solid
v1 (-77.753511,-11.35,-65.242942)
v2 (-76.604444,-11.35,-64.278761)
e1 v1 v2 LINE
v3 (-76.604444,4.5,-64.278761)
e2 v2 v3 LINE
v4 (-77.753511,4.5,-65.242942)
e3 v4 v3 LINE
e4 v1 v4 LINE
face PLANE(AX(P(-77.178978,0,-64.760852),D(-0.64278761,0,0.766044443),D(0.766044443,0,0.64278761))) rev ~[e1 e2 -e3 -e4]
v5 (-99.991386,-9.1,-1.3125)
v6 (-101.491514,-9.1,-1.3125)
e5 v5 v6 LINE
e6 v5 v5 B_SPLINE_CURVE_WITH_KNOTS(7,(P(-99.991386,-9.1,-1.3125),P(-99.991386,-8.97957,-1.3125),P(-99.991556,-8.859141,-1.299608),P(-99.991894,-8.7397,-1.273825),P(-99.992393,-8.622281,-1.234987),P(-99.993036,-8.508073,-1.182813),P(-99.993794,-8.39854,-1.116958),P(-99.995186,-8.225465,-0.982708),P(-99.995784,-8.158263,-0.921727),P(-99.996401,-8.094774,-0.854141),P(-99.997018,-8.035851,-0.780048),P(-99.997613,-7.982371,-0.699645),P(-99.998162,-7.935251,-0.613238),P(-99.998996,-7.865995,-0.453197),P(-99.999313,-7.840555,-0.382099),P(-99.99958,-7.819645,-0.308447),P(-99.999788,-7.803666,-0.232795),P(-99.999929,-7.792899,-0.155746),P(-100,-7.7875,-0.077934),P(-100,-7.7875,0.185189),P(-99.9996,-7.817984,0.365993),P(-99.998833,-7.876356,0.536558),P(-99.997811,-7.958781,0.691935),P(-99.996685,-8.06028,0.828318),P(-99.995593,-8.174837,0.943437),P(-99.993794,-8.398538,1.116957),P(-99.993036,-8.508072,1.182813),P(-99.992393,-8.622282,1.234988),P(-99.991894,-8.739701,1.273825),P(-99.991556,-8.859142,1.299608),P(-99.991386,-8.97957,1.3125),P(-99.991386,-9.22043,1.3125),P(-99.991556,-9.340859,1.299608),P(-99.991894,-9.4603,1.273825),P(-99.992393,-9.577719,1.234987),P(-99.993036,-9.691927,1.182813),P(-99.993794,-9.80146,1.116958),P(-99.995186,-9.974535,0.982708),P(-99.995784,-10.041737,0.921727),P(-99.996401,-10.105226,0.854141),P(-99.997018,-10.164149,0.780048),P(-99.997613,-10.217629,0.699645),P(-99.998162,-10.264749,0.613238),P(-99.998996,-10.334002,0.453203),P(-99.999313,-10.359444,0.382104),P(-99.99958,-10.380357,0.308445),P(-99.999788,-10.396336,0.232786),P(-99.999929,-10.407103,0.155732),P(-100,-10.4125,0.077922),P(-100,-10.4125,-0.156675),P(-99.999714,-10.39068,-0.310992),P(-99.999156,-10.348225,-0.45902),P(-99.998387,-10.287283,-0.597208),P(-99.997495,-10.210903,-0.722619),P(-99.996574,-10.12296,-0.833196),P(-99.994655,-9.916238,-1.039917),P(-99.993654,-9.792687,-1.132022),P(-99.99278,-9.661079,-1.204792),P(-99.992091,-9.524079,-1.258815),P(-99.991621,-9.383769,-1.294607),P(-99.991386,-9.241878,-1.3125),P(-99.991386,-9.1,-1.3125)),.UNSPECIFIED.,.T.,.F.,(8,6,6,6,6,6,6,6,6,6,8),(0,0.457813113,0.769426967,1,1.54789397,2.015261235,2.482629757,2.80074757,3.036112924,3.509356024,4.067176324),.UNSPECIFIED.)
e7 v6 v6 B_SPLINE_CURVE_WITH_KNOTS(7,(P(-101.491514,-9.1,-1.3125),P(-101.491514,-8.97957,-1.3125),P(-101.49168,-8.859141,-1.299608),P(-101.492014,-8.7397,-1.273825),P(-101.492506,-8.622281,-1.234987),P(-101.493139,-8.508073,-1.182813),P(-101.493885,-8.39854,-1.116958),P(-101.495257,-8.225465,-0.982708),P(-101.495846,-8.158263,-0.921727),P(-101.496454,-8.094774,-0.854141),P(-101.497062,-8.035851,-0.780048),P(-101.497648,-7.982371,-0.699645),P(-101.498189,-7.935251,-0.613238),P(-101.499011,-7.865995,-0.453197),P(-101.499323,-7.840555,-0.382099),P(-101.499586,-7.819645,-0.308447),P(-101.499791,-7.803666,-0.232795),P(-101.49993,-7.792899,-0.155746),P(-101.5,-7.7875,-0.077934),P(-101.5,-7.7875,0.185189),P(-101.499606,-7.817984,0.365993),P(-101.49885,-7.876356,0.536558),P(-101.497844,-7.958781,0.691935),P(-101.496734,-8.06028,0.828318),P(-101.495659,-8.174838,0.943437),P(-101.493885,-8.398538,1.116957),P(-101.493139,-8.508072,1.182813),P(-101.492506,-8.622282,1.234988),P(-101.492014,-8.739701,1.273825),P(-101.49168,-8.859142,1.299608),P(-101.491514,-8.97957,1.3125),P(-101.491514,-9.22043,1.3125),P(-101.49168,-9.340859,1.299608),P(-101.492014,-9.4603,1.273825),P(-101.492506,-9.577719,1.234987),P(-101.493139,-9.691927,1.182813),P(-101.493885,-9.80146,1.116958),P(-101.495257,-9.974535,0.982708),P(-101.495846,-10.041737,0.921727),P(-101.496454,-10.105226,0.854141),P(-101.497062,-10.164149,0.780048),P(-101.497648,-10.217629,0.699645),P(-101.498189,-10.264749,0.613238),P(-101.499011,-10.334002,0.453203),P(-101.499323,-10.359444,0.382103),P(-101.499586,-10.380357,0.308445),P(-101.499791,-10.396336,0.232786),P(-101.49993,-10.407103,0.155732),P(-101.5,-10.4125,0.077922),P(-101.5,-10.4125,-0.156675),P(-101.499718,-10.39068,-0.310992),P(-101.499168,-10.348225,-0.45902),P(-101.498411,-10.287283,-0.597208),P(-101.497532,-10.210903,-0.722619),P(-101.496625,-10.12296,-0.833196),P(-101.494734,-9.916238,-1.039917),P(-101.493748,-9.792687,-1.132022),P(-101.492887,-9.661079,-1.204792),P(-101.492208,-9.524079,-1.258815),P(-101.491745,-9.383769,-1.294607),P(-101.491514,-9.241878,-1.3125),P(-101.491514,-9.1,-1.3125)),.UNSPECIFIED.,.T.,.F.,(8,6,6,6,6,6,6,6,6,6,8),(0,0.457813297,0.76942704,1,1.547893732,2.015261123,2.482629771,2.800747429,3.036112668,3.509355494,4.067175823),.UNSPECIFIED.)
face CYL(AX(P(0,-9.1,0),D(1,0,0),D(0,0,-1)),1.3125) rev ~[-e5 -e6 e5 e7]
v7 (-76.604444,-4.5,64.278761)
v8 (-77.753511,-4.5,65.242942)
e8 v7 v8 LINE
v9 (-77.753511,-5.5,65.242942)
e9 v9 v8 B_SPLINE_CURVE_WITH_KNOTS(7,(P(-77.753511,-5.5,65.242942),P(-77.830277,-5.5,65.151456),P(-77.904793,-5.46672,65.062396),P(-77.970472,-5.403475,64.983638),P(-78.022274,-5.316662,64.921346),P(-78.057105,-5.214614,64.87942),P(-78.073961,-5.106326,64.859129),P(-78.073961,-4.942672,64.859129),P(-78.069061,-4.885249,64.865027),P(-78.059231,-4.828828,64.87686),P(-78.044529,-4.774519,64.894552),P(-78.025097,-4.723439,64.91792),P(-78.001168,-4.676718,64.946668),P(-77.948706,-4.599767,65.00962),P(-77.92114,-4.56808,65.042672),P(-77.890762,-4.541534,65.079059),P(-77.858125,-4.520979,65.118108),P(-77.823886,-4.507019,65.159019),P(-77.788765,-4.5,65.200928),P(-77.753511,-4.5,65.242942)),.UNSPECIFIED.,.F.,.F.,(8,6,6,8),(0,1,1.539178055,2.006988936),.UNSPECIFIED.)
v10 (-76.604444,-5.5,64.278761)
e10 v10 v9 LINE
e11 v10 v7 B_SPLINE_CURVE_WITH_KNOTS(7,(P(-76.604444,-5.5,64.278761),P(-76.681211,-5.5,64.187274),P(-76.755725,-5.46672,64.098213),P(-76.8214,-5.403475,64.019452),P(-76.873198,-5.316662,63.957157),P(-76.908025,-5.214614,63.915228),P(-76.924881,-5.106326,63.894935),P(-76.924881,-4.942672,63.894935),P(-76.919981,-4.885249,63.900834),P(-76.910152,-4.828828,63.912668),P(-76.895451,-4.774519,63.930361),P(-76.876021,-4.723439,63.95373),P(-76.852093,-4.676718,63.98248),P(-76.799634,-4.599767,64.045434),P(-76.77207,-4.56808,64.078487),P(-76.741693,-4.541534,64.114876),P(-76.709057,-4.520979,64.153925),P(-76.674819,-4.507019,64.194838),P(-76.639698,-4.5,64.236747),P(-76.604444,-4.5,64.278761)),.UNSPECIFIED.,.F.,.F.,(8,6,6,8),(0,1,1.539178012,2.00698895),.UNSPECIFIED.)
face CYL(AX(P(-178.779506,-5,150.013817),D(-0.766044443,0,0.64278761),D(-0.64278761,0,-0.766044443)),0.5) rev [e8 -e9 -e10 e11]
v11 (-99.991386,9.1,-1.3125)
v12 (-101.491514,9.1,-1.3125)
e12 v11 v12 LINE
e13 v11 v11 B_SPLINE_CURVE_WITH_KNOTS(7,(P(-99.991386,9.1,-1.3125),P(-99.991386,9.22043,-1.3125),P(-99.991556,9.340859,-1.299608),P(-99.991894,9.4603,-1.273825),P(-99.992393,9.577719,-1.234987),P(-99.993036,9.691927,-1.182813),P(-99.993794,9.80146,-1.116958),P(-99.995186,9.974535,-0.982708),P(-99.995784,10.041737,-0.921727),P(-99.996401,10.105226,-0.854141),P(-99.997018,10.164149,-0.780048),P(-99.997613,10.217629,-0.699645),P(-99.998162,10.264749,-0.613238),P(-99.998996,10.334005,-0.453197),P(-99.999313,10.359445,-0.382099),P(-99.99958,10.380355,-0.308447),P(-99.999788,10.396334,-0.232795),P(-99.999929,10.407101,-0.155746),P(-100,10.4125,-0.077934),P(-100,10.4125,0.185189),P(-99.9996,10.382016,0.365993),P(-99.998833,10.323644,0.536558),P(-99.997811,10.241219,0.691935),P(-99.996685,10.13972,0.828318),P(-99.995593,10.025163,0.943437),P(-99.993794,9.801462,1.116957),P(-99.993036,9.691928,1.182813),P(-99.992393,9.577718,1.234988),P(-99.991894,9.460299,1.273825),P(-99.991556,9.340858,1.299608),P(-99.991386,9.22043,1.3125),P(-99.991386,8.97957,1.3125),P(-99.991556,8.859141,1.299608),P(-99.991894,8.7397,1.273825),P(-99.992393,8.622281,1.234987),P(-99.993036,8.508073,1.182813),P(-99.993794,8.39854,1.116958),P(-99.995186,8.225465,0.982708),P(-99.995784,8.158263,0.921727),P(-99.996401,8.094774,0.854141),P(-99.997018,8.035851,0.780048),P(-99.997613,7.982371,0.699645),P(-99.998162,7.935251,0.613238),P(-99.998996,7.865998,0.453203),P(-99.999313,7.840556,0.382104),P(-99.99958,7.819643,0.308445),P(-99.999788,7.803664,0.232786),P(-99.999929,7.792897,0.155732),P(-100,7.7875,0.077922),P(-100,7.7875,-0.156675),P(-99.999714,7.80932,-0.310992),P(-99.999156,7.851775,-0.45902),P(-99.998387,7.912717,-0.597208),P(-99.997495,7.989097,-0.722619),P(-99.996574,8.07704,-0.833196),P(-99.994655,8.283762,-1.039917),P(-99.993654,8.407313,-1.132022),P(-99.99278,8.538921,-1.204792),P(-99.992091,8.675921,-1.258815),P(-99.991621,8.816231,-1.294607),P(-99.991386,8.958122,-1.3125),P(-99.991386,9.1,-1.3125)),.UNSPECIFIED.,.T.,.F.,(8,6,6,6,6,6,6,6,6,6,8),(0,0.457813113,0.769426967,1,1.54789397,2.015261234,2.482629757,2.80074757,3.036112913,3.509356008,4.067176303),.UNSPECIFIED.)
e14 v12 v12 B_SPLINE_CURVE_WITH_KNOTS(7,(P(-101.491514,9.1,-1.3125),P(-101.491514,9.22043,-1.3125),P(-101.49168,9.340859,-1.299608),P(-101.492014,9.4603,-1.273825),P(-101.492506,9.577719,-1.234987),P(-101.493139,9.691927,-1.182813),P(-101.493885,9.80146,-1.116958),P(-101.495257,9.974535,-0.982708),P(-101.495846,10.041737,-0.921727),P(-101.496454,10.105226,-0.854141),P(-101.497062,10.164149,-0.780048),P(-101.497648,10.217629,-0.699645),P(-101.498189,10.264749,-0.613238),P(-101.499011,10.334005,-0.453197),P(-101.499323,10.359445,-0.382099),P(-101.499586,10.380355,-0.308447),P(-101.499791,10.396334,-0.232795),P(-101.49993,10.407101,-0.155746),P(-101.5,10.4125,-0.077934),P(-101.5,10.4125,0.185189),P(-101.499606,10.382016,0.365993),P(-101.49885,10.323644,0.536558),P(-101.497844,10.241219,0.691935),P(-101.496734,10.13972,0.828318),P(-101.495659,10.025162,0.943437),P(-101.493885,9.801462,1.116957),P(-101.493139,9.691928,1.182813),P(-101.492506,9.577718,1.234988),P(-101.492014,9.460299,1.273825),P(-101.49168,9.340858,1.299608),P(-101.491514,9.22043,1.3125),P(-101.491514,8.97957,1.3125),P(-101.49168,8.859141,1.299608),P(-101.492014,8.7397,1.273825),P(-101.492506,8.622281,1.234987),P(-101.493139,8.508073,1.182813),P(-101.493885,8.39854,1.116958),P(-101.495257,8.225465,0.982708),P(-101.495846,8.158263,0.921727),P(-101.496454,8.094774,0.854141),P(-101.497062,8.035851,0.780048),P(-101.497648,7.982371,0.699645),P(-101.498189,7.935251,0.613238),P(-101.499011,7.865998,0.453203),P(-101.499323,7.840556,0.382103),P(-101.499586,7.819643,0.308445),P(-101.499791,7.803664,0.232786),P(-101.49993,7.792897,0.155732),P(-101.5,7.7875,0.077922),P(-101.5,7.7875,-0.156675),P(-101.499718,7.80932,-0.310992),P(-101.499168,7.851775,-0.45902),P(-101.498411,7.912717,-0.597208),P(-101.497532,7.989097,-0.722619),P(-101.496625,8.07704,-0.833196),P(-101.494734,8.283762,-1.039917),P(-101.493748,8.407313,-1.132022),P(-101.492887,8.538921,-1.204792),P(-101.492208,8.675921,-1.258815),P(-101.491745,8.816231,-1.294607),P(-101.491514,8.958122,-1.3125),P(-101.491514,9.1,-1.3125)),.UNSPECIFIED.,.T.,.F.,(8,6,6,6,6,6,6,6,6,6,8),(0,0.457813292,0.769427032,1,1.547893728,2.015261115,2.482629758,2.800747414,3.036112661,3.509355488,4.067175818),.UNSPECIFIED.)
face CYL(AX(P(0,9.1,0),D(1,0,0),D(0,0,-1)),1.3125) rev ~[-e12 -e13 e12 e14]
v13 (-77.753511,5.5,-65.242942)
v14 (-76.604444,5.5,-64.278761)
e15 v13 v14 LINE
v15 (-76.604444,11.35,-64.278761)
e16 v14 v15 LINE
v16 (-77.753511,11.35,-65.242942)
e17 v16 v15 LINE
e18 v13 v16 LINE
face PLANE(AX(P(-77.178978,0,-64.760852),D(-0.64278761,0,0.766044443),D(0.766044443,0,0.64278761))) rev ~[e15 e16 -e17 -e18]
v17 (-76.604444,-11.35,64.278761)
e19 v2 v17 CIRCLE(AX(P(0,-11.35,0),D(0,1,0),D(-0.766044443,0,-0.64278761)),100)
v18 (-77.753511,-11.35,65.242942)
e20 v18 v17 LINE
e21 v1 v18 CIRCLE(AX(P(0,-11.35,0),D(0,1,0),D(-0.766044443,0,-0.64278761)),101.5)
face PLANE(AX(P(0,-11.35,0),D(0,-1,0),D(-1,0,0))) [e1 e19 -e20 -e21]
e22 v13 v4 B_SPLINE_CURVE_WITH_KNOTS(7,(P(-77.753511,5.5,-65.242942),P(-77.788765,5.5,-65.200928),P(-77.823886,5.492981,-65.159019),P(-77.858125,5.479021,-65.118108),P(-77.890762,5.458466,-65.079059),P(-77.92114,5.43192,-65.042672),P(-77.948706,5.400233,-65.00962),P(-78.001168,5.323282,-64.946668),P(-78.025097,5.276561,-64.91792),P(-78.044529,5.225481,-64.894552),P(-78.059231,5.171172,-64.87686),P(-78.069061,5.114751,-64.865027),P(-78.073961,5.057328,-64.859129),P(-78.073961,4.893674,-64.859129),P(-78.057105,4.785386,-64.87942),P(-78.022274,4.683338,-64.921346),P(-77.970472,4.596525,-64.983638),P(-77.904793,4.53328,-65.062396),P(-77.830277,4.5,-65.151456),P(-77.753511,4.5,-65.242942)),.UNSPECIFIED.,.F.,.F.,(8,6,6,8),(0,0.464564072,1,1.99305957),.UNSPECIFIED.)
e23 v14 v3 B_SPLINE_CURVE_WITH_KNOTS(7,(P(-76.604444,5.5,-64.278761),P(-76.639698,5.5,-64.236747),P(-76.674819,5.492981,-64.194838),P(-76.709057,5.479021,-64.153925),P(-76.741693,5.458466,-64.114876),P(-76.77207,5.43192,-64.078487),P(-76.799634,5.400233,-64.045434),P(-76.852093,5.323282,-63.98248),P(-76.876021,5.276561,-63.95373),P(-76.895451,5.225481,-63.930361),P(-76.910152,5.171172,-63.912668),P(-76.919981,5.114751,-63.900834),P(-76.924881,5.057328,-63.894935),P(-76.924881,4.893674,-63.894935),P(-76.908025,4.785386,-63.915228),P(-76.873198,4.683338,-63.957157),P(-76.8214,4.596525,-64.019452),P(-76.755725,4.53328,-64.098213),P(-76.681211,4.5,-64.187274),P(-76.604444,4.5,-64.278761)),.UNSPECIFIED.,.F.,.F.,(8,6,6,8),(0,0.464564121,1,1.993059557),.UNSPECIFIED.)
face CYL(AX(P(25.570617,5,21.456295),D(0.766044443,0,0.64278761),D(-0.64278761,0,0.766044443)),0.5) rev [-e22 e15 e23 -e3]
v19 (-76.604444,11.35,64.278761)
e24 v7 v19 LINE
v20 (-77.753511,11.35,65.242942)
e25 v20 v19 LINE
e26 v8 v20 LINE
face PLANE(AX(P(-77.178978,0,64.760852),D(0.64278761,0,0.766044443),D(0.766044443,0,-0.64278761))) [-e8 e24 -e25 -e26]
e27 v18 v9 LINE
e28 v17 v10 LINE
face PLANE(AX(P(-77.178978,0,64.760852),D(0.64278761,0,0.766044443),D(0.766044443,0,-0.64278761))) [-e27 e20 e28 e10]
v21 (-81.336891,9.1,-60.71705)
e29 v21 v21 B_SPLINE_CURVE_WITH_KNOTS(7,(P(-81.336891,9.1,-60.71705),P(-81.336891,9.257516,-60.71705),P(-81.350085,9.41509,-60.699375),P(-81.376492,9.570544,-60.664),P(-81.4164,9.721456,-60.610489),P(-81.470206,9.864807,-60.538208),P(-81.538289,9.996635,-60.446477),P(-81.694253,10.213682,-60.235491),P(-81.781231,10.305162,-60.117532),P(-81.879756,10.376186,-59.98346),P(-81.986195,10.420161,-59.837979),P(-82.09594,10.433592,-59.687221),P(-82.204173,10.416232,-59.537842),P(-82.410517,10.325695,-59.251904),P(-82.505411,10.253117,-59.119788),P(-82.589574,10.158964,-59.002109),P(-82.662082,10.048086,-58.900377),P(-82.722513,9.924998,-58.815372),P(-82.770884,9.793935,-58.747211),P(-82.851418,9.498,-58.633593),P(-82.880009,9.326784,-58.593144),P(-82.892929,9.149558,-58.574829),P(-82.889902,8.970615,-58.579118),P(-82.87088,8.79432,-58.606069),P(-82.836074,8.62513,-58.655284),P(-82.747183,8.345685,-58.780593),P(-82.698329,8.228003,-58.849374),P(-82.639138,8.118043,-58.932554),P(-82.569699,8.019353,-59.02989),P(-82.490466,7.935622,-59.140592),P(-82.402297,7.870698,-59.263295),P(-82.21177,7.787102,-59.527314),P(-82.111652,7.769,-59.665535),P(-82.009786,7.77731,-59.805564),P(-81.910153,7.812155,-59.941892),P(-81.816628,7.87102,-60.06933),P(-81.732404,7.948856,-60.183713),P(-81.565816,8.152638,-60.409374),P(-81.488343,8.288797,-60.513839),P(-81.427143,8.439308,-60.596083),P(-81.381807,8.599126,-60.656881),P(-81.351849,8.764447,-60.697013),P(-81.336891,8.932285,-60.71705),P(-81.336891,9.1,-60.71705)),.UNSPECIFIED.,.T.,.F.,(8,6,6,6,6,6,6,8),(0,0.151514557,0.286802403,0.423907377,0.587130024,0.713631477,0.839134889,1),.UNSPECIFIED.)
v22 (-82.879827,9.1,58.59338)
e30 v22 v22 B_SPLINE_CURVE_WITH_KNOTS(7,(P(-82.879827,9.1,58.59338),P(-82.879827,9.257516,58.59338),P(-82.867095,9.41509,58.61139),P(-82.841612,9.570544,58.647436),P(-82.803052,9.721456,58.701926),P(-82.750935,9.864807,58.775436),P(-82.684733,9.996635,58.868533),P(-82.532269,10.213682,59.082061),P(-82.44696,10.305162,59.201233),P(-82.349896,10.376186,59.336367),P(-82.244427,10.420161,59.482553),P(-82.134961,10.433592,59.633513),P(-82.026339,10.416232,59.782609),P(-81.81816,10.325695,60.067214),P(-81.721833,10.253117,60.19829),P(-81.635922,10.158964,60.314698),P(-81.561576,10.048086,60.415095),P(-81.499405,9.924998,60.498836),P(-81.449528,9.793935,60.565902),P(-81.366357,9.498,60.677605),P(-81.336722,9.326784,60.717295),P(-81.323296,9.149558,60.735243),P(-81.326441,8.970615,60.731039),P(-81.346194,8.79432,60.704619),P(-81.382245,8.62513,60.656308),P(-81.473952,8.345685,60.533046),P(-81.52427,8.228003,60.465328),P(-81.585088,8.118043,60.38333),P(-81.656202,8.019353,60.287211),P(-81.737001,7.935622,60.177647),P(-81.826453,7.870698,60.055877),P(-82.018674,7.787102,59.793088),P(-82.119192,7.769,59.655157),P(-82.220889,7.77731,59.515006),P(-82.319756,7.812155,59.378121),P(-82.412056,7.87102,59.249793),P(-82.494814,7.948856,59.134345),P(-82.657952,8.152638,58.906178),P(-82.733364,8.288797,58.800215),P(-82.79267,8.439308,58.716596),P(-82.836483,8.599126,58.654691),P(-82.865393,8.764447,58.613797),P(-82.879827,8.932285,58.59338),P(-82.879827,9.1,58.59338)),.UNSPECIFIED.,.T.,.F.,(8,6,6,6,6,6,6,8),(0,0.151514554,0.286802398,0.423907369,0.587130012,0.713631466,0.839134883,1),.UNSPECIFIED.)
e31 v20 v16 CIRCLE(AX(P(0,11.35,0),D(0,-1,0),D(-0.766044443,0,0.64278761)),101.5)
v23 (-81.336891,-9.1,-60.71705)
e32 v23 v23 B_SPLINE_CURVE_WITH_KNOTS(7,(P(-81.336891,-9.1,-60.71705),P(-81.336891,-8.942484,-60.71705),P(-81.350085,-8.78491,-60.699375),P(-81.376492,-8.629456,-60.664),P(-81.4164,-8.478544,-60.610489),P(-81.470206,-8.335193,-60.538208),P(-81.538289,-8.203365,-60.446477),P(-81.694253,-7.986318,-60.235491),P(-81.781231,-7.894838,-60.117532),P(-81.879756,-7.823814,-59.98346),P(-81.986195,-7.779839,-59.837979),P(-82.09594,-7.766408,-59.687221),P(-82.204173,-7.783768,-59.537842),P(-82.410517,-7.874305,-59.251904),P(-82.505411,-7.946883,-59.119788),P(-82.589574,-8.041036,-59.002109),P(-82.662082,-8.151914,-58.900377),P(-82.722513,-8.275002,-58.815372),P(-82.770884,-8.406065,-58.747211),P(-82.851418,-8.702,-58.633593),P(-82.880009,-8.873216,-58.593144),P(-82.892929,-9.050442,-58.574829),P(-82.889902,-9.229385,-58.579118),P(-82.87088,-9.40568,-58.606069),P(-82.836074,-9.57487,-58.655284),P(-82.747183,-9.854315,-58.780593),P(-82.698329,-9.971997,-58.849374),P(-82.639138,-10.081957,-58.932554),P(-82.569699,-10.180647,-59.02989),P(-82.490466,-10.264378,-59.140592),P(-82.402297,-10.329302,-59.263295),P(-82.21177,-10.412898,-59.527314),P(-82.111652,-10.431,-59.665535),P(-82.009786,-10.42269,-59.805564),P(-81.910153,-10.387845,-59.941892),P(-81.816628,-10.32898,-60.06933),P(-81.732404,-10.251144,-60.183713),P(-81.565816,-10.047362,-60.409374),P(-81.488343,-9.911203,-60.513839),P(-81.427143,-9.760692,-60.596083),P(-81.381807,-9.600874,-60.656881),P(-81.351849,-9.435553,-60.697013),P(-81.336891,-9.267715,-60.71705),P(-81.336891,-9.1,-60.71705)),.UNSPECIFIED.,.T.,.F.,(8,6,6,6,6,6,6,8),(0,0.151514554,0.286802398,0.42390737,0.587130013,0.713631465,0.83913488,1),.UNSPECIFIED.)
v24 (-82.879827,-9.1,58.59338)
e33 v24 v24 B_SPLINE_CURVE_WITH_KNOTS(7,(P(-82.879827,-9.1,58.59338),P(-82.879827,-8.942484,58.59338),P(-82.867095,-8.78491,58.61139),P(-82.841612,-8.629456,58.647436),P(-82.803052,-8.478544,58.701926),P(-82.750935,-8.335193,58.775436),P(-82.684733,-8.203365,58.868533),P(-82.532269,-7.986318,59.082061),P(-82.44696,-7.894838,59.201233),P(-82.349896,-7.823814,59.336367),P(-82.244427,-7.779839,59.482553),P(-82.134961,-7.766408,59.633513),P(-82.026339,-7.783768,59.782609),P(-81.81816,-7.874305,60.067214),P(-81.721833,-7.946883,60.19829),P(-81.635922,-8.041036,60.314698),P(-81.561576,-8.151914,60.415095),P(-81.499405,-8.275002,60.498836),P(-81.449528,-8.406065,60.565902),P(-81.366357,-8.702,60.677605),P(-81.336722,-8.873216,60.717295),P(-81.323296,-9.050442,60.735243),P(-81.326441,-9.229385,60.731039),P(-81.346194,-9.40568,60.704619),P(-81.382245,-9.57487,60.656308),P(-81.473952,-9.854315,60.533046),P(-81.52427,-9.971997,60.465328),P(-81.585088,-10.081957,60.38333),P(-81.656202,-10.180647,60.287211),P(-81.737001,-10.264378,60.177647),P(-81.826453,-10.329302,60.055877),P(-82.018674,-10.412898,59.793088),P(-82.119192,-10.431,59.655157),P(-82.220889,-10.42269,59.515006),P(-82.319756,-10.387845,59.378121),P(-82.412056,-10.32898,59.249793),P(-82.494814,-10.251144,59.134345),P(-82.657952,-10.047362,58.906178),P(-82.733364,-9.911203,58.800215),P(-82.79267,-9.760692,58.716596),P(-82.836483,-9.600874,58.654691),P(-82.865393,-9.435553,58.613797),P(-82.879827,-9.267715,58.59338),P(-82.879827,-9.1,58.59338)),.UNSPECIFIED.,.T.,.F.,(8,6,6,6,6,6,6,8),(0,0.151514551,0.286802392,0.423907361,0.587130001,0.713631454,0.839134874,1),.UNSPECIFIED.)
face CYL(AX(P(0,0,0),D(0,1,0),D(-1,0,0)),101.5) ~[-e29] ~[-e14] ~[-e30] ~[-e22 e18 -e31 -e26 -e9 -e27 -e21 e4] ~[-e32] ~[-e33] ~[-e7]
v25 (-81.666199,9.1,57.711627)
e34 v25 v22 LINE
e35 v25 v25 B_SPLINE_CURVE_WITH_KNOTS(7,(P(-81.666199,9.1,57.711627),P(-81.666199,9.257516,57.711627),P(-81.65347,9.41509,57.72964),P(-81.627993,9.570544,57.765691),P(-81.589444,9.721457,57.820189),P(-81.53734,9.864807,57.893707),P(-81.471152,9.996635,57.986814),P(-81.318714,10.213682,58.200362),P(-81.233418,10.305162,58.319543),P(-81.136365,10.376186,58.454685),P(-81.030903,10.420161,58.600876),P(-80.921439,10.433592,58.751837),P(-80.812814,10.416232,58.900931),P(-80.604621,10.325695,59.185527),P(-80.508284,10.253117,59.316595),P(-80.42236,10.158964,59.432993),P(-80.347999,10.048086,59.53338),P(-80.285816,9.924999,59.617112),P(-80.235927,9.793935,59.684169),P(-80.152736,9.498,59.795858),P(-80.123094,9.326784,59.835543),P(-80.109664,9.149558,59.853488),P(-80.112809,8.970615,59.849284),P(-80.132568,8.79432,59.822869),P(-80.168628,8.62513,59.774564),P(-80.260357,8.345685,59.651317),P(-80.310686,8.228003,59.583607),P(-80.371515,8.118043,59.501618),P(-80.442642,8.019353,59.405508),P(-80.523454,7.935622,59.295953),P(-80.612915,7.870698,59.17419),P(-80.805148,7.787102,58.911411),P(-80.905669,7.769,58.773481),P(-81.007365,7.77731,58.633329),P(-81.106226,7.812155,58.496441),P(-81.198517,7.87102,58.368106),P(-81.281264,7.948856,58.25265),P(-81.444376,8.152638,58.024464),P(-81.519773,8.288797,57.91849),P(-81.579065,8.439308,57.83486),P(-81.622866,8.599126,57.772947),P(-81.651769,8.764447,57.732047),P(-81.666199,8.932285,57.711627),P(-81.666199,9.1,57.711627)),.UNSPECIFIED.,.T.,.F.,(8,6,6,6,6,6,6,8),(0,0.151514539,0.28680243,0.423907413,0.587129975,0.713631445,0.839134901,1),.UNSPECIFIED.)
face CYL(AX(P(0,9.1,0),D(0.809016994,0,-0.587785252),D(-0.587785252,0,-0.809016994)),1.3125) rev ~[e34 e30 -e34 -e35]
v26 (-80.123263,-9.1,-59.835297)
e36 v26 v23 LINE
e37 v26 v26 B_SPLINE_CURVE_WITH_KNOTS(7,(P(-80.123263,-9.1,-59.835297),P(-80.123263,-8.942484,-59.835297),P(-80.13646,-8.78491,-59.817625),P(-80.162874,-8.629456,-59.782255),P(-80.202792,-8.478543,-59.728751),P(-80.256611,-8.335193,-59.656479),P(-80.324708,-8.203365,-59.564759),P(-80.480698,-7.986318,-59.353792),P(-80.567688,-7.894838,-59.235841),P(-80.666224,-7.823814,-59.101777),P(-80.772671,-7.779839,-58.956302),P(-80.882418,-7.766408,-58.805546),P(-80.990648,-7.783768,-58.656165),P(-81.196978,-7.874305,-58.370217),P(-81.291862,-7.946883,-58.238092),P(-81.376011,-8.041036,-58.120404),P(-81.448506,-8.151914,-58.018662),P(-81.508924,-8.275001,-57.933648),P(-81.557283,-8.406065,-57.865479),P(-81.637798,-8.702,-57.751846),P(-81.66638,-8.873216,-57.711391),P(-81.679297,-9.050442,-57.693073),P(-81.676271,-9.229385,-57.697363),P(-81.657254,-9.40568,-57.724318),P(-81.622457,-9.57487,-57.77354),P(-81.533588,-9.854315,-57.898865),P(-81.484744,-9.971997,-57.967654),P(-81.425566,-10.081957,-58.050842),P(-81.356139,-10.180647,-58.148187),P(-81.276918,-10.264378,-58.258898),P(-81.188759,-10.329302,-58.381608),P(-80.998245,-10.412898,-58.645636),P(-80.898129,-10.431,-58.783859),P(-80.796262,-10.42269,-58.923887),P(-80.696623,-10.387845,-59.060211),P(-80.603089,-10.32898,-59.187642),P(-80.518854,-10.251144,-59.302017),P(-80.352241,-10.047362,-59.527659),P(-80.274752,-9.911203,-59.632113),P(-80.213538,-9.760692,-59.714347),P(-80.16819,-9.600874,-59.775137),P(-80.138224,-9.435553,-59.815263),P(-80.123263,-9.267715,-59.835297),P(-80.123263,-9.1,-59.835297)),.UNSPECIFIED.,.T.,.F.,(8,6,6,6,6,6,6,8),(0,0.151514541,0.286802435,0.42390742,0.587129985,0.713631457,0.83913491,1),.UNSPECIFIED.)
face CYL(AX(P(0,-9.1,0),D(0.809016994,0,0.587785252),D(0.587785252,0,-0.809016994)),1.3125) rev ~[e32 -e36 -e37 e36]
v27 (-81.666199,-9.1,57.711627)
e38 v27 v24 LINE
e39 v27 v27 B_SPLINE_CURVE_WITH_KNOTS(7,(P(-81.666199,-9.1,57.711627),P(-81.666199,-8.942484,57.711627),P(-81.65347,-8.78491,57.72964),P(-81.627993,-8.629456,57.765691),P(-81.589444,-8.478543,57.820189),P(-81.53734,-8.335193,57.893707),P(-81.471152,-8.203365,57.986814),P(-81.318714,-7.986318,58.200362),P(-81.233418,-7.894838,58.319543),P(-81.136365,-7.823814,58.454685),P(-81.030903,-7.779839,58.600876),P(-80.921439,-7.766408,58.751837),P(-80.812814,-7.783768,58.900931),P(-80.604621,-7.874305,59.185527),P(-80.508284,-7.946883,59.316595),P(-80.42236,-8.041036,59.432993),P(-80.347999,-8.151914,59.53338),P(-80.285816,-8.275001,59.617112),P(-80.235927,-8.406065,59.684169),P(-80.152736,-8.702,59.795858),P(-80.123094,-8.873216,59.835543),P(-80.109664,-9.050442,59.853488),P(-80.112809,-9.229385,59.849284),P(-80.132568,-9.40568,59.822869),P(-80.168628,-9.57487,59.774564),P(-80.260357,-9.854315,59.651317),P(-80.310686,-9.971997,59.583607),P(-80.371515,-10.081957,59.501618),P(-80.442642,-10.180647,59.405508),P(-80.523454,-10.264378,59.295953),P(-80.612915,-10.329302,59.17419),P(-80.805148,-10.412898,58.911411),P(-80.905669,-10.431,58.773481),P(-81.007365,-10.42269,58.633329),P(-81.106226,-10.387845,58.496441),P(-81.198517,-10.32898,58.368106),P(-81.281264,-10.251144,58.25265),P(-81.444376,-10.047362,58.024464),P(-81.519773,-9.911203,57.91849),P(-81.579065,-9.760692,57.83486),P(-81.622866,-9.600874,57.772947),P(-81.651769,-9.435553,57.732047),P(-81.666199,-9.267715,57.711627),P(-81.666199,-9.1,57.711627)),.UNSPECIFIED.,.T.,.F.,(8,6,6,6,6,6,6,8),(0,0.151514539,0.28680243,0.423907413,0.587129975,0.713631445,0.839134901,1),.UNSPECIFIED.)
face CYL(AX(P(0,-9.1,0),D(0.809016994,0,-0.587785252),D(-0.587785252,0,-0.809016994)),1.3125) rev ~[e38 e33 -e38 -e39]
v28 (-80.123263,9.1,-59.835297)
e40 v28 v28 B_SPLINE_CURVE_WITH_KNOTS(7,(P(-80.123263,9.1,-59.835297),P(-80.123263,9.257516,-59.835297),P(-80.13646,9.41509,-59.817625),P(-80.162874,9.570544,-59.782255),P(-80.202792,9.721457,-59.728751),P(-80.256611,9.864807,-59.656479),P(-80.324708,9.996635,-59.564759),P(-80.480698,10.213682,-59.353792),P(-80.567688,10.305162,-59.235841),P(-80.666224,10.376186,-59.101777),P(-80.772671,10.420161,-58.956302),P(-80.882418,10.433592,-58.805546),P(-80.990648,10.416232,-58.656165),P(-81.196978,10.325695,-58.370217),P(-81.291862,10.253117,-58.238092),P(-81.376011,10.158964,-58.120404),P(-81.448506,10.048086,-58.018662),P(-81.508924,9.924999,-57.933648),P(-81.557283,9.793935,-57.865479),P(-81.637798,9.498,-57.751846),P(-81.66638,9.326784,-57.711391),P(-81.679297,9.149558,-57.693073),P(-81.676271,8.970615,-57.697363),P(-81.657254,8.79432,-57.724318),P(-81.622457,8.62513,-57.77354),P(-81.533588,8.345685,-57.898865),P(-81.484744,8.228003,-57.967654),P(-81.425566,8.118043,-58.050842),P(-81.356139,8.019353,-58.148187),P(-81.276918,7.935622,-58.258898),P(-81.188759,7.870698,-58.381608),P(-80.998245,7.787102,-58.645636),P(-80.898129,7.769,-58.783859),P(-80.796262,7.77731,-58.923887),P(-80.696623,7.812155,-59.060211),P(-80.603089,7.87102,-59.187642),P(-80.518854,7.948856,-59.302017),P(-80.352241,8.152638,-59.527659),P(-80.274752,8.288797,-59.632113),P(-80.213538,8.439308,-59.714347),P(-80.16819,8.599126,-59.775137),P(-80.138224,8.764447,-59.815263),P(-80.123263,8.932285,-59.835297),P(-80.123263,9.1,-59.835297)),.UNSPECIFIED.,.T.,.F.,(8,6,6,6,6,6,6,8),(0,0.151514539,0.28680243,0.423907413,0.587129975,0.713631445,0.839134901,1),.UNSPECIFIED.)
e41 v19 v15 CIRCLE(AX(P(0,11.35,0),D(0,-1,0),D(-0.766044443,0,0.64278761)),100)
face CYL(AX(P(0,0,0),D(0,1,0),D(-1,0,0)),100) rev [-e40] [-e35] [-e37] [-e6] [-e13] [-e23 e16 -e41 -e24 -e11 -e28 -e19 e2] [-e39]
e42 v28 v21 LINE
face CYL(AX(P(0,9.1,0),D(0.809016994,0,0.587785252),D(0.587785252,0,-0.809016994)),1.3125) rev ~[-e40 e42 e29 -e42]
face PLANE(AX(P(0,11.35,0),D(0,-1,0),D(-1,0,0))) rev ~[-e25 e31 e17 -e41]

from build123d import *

# Parameters (mm, degrees)
SKETCH1_W                       = 1.5
SKETCH1_H                       = 22.7
REVOLVE1_ANGLE                  = 80
SKETCH2_R                       = 1.3125
CUT_EXTRUDE1_DEPTH              = 122.192879456
CIRPATTERN1_COUNT               = 2
CIRPATTERN1_ANGLE               = 36
CIRPATTERN1_THE_OTHER_WAY_COUNT = 2
CIRPATTERN1_THE_OTHER_WAY_ANGLE = 36
CUT_EXTRUDE2_DEPTH              = 133.380069744
CUT_EXTRUDE2_DEPTH_BACK         = 133.380069744
SKETCH3_R                       = 0.5
CUT_EXTRUDE3_DEPTH              = 133.380069744
CUT_EXTRUDE3_DEPTH_BACK         = 133.380069744
SKETCH4_R                       = 0.5


with BuildPart() as part:
    # Sketch1 → Revolve1 (revolve, symmetric)
    with BuildSketch(Plane.XY) as revolve1_sk:
        with Locations((-100.75, 0)):
            Rectangle(SKETCH1_W, SKETCH1_H)
    revolve(axis=Axis((0, -1000, 0), (0, 1, 0)), revolution_arc=REVOLVE1_ANGLE / 2)
    revolve(revolve1_sk.sketch, axis=Axis((0, -1000, 0), (0, -1, 0)), revolution_arc=REVOLVE1_ANGLE / 2)

    # Sketch2 → Cut-Extrude1 (cut, through all)
    with BuildSketch(Plane(origin=(0, 0, 0), x_dir=(0, 0, -1), z_dir=(1, 0, 0))):
        with Locations((0, -9.1)):
            Circle(SKETCH2_R)
        with Locations((0, 9.1)):
            Circle(SKETCH2_R)
    cut_extrude1 = extrude(amount=-CUT_EXTRUDE1_DEPTH, mode=Mode.SUBTRACT)

    # CirPattern1: Cut-Extrude1 ×2 about axis
    cirpattern1_axis = Axis((0, -1000, 0), (0, 1, 0))
    for i in range(1, CIRPATTERN1_COUNT):
        add(cut_extrude1.rotate(cirpattern1_axis, i * CIRPATTERN1_ANGLE / (CIRPATTERN1_COUNT - 1)), mode=Mode.SUBTRACT)

    # CirPattern1 the other way: Cut-Extrude1 ×2 about axis
    cirpattern1_the_other_way_axis = Axis((0, -1000, 0), (0, -1, 0))
    for i in range(1, CIRPATTERN1_THE_OTHER_WAY_COUNT):
        add(cut_extrude1.rotate(cirpattern1_the_other_way_axis, i * CIRPATTERN1_THE_OTHER_WAY_ANGLE / (CIRPATTERN1_THE_OTHER_WAY_COUNT - 1)), mode=Mode.SUBTRACT)

    # Sketch3 → Cut-Extrude2 (cut, two sides: drawn at the far end of the back side and taken through both)
    with BuildSketch(Plane(origin=(-76.604444312, 0, 64.278760969), x_dir=(-0.6427876096865407, 0, -0.7660444431189769), z_dir=(0.7660444431189769, -1.1789167470557806e-15, -0.6427876096865407)).offset(-CUT_EXTRUDE2_DEPTH_BACK)):
        with Locations((0, -5)):
            Circle(SKETCH3_R)
    extrude(amount=CUT_EXTRUDE2_DEPTH + CUT_EXTRUDE2_DEPTH_BACK, mode=Mode.SUBTRACT)

    # Sketch4 → Cut-Extrude3 (cut, two sides: drawn at the far end of the back side and taken through both)
    with BuildSketch(Plane(origin=(-76.604444312, 0, -64.278760969), x_dir=(-0.6427876096865405, 0, 0.7660444431189771), z_dir=(-0.7660444431189772, 0, -0.6427876096865405)).offset(-CUT_EXTRUDE3_DEPTH_BACK)):
        with Locations((-1e-09, 5)):
            Circle(SKETCH4_R)
    extrude(amount=CUT_EXTRUDE3_DEPTH + CUT_EXTRUDE3_DEPTH_BACK, mode=Mode.SUBTRACT)


solid = part.part
